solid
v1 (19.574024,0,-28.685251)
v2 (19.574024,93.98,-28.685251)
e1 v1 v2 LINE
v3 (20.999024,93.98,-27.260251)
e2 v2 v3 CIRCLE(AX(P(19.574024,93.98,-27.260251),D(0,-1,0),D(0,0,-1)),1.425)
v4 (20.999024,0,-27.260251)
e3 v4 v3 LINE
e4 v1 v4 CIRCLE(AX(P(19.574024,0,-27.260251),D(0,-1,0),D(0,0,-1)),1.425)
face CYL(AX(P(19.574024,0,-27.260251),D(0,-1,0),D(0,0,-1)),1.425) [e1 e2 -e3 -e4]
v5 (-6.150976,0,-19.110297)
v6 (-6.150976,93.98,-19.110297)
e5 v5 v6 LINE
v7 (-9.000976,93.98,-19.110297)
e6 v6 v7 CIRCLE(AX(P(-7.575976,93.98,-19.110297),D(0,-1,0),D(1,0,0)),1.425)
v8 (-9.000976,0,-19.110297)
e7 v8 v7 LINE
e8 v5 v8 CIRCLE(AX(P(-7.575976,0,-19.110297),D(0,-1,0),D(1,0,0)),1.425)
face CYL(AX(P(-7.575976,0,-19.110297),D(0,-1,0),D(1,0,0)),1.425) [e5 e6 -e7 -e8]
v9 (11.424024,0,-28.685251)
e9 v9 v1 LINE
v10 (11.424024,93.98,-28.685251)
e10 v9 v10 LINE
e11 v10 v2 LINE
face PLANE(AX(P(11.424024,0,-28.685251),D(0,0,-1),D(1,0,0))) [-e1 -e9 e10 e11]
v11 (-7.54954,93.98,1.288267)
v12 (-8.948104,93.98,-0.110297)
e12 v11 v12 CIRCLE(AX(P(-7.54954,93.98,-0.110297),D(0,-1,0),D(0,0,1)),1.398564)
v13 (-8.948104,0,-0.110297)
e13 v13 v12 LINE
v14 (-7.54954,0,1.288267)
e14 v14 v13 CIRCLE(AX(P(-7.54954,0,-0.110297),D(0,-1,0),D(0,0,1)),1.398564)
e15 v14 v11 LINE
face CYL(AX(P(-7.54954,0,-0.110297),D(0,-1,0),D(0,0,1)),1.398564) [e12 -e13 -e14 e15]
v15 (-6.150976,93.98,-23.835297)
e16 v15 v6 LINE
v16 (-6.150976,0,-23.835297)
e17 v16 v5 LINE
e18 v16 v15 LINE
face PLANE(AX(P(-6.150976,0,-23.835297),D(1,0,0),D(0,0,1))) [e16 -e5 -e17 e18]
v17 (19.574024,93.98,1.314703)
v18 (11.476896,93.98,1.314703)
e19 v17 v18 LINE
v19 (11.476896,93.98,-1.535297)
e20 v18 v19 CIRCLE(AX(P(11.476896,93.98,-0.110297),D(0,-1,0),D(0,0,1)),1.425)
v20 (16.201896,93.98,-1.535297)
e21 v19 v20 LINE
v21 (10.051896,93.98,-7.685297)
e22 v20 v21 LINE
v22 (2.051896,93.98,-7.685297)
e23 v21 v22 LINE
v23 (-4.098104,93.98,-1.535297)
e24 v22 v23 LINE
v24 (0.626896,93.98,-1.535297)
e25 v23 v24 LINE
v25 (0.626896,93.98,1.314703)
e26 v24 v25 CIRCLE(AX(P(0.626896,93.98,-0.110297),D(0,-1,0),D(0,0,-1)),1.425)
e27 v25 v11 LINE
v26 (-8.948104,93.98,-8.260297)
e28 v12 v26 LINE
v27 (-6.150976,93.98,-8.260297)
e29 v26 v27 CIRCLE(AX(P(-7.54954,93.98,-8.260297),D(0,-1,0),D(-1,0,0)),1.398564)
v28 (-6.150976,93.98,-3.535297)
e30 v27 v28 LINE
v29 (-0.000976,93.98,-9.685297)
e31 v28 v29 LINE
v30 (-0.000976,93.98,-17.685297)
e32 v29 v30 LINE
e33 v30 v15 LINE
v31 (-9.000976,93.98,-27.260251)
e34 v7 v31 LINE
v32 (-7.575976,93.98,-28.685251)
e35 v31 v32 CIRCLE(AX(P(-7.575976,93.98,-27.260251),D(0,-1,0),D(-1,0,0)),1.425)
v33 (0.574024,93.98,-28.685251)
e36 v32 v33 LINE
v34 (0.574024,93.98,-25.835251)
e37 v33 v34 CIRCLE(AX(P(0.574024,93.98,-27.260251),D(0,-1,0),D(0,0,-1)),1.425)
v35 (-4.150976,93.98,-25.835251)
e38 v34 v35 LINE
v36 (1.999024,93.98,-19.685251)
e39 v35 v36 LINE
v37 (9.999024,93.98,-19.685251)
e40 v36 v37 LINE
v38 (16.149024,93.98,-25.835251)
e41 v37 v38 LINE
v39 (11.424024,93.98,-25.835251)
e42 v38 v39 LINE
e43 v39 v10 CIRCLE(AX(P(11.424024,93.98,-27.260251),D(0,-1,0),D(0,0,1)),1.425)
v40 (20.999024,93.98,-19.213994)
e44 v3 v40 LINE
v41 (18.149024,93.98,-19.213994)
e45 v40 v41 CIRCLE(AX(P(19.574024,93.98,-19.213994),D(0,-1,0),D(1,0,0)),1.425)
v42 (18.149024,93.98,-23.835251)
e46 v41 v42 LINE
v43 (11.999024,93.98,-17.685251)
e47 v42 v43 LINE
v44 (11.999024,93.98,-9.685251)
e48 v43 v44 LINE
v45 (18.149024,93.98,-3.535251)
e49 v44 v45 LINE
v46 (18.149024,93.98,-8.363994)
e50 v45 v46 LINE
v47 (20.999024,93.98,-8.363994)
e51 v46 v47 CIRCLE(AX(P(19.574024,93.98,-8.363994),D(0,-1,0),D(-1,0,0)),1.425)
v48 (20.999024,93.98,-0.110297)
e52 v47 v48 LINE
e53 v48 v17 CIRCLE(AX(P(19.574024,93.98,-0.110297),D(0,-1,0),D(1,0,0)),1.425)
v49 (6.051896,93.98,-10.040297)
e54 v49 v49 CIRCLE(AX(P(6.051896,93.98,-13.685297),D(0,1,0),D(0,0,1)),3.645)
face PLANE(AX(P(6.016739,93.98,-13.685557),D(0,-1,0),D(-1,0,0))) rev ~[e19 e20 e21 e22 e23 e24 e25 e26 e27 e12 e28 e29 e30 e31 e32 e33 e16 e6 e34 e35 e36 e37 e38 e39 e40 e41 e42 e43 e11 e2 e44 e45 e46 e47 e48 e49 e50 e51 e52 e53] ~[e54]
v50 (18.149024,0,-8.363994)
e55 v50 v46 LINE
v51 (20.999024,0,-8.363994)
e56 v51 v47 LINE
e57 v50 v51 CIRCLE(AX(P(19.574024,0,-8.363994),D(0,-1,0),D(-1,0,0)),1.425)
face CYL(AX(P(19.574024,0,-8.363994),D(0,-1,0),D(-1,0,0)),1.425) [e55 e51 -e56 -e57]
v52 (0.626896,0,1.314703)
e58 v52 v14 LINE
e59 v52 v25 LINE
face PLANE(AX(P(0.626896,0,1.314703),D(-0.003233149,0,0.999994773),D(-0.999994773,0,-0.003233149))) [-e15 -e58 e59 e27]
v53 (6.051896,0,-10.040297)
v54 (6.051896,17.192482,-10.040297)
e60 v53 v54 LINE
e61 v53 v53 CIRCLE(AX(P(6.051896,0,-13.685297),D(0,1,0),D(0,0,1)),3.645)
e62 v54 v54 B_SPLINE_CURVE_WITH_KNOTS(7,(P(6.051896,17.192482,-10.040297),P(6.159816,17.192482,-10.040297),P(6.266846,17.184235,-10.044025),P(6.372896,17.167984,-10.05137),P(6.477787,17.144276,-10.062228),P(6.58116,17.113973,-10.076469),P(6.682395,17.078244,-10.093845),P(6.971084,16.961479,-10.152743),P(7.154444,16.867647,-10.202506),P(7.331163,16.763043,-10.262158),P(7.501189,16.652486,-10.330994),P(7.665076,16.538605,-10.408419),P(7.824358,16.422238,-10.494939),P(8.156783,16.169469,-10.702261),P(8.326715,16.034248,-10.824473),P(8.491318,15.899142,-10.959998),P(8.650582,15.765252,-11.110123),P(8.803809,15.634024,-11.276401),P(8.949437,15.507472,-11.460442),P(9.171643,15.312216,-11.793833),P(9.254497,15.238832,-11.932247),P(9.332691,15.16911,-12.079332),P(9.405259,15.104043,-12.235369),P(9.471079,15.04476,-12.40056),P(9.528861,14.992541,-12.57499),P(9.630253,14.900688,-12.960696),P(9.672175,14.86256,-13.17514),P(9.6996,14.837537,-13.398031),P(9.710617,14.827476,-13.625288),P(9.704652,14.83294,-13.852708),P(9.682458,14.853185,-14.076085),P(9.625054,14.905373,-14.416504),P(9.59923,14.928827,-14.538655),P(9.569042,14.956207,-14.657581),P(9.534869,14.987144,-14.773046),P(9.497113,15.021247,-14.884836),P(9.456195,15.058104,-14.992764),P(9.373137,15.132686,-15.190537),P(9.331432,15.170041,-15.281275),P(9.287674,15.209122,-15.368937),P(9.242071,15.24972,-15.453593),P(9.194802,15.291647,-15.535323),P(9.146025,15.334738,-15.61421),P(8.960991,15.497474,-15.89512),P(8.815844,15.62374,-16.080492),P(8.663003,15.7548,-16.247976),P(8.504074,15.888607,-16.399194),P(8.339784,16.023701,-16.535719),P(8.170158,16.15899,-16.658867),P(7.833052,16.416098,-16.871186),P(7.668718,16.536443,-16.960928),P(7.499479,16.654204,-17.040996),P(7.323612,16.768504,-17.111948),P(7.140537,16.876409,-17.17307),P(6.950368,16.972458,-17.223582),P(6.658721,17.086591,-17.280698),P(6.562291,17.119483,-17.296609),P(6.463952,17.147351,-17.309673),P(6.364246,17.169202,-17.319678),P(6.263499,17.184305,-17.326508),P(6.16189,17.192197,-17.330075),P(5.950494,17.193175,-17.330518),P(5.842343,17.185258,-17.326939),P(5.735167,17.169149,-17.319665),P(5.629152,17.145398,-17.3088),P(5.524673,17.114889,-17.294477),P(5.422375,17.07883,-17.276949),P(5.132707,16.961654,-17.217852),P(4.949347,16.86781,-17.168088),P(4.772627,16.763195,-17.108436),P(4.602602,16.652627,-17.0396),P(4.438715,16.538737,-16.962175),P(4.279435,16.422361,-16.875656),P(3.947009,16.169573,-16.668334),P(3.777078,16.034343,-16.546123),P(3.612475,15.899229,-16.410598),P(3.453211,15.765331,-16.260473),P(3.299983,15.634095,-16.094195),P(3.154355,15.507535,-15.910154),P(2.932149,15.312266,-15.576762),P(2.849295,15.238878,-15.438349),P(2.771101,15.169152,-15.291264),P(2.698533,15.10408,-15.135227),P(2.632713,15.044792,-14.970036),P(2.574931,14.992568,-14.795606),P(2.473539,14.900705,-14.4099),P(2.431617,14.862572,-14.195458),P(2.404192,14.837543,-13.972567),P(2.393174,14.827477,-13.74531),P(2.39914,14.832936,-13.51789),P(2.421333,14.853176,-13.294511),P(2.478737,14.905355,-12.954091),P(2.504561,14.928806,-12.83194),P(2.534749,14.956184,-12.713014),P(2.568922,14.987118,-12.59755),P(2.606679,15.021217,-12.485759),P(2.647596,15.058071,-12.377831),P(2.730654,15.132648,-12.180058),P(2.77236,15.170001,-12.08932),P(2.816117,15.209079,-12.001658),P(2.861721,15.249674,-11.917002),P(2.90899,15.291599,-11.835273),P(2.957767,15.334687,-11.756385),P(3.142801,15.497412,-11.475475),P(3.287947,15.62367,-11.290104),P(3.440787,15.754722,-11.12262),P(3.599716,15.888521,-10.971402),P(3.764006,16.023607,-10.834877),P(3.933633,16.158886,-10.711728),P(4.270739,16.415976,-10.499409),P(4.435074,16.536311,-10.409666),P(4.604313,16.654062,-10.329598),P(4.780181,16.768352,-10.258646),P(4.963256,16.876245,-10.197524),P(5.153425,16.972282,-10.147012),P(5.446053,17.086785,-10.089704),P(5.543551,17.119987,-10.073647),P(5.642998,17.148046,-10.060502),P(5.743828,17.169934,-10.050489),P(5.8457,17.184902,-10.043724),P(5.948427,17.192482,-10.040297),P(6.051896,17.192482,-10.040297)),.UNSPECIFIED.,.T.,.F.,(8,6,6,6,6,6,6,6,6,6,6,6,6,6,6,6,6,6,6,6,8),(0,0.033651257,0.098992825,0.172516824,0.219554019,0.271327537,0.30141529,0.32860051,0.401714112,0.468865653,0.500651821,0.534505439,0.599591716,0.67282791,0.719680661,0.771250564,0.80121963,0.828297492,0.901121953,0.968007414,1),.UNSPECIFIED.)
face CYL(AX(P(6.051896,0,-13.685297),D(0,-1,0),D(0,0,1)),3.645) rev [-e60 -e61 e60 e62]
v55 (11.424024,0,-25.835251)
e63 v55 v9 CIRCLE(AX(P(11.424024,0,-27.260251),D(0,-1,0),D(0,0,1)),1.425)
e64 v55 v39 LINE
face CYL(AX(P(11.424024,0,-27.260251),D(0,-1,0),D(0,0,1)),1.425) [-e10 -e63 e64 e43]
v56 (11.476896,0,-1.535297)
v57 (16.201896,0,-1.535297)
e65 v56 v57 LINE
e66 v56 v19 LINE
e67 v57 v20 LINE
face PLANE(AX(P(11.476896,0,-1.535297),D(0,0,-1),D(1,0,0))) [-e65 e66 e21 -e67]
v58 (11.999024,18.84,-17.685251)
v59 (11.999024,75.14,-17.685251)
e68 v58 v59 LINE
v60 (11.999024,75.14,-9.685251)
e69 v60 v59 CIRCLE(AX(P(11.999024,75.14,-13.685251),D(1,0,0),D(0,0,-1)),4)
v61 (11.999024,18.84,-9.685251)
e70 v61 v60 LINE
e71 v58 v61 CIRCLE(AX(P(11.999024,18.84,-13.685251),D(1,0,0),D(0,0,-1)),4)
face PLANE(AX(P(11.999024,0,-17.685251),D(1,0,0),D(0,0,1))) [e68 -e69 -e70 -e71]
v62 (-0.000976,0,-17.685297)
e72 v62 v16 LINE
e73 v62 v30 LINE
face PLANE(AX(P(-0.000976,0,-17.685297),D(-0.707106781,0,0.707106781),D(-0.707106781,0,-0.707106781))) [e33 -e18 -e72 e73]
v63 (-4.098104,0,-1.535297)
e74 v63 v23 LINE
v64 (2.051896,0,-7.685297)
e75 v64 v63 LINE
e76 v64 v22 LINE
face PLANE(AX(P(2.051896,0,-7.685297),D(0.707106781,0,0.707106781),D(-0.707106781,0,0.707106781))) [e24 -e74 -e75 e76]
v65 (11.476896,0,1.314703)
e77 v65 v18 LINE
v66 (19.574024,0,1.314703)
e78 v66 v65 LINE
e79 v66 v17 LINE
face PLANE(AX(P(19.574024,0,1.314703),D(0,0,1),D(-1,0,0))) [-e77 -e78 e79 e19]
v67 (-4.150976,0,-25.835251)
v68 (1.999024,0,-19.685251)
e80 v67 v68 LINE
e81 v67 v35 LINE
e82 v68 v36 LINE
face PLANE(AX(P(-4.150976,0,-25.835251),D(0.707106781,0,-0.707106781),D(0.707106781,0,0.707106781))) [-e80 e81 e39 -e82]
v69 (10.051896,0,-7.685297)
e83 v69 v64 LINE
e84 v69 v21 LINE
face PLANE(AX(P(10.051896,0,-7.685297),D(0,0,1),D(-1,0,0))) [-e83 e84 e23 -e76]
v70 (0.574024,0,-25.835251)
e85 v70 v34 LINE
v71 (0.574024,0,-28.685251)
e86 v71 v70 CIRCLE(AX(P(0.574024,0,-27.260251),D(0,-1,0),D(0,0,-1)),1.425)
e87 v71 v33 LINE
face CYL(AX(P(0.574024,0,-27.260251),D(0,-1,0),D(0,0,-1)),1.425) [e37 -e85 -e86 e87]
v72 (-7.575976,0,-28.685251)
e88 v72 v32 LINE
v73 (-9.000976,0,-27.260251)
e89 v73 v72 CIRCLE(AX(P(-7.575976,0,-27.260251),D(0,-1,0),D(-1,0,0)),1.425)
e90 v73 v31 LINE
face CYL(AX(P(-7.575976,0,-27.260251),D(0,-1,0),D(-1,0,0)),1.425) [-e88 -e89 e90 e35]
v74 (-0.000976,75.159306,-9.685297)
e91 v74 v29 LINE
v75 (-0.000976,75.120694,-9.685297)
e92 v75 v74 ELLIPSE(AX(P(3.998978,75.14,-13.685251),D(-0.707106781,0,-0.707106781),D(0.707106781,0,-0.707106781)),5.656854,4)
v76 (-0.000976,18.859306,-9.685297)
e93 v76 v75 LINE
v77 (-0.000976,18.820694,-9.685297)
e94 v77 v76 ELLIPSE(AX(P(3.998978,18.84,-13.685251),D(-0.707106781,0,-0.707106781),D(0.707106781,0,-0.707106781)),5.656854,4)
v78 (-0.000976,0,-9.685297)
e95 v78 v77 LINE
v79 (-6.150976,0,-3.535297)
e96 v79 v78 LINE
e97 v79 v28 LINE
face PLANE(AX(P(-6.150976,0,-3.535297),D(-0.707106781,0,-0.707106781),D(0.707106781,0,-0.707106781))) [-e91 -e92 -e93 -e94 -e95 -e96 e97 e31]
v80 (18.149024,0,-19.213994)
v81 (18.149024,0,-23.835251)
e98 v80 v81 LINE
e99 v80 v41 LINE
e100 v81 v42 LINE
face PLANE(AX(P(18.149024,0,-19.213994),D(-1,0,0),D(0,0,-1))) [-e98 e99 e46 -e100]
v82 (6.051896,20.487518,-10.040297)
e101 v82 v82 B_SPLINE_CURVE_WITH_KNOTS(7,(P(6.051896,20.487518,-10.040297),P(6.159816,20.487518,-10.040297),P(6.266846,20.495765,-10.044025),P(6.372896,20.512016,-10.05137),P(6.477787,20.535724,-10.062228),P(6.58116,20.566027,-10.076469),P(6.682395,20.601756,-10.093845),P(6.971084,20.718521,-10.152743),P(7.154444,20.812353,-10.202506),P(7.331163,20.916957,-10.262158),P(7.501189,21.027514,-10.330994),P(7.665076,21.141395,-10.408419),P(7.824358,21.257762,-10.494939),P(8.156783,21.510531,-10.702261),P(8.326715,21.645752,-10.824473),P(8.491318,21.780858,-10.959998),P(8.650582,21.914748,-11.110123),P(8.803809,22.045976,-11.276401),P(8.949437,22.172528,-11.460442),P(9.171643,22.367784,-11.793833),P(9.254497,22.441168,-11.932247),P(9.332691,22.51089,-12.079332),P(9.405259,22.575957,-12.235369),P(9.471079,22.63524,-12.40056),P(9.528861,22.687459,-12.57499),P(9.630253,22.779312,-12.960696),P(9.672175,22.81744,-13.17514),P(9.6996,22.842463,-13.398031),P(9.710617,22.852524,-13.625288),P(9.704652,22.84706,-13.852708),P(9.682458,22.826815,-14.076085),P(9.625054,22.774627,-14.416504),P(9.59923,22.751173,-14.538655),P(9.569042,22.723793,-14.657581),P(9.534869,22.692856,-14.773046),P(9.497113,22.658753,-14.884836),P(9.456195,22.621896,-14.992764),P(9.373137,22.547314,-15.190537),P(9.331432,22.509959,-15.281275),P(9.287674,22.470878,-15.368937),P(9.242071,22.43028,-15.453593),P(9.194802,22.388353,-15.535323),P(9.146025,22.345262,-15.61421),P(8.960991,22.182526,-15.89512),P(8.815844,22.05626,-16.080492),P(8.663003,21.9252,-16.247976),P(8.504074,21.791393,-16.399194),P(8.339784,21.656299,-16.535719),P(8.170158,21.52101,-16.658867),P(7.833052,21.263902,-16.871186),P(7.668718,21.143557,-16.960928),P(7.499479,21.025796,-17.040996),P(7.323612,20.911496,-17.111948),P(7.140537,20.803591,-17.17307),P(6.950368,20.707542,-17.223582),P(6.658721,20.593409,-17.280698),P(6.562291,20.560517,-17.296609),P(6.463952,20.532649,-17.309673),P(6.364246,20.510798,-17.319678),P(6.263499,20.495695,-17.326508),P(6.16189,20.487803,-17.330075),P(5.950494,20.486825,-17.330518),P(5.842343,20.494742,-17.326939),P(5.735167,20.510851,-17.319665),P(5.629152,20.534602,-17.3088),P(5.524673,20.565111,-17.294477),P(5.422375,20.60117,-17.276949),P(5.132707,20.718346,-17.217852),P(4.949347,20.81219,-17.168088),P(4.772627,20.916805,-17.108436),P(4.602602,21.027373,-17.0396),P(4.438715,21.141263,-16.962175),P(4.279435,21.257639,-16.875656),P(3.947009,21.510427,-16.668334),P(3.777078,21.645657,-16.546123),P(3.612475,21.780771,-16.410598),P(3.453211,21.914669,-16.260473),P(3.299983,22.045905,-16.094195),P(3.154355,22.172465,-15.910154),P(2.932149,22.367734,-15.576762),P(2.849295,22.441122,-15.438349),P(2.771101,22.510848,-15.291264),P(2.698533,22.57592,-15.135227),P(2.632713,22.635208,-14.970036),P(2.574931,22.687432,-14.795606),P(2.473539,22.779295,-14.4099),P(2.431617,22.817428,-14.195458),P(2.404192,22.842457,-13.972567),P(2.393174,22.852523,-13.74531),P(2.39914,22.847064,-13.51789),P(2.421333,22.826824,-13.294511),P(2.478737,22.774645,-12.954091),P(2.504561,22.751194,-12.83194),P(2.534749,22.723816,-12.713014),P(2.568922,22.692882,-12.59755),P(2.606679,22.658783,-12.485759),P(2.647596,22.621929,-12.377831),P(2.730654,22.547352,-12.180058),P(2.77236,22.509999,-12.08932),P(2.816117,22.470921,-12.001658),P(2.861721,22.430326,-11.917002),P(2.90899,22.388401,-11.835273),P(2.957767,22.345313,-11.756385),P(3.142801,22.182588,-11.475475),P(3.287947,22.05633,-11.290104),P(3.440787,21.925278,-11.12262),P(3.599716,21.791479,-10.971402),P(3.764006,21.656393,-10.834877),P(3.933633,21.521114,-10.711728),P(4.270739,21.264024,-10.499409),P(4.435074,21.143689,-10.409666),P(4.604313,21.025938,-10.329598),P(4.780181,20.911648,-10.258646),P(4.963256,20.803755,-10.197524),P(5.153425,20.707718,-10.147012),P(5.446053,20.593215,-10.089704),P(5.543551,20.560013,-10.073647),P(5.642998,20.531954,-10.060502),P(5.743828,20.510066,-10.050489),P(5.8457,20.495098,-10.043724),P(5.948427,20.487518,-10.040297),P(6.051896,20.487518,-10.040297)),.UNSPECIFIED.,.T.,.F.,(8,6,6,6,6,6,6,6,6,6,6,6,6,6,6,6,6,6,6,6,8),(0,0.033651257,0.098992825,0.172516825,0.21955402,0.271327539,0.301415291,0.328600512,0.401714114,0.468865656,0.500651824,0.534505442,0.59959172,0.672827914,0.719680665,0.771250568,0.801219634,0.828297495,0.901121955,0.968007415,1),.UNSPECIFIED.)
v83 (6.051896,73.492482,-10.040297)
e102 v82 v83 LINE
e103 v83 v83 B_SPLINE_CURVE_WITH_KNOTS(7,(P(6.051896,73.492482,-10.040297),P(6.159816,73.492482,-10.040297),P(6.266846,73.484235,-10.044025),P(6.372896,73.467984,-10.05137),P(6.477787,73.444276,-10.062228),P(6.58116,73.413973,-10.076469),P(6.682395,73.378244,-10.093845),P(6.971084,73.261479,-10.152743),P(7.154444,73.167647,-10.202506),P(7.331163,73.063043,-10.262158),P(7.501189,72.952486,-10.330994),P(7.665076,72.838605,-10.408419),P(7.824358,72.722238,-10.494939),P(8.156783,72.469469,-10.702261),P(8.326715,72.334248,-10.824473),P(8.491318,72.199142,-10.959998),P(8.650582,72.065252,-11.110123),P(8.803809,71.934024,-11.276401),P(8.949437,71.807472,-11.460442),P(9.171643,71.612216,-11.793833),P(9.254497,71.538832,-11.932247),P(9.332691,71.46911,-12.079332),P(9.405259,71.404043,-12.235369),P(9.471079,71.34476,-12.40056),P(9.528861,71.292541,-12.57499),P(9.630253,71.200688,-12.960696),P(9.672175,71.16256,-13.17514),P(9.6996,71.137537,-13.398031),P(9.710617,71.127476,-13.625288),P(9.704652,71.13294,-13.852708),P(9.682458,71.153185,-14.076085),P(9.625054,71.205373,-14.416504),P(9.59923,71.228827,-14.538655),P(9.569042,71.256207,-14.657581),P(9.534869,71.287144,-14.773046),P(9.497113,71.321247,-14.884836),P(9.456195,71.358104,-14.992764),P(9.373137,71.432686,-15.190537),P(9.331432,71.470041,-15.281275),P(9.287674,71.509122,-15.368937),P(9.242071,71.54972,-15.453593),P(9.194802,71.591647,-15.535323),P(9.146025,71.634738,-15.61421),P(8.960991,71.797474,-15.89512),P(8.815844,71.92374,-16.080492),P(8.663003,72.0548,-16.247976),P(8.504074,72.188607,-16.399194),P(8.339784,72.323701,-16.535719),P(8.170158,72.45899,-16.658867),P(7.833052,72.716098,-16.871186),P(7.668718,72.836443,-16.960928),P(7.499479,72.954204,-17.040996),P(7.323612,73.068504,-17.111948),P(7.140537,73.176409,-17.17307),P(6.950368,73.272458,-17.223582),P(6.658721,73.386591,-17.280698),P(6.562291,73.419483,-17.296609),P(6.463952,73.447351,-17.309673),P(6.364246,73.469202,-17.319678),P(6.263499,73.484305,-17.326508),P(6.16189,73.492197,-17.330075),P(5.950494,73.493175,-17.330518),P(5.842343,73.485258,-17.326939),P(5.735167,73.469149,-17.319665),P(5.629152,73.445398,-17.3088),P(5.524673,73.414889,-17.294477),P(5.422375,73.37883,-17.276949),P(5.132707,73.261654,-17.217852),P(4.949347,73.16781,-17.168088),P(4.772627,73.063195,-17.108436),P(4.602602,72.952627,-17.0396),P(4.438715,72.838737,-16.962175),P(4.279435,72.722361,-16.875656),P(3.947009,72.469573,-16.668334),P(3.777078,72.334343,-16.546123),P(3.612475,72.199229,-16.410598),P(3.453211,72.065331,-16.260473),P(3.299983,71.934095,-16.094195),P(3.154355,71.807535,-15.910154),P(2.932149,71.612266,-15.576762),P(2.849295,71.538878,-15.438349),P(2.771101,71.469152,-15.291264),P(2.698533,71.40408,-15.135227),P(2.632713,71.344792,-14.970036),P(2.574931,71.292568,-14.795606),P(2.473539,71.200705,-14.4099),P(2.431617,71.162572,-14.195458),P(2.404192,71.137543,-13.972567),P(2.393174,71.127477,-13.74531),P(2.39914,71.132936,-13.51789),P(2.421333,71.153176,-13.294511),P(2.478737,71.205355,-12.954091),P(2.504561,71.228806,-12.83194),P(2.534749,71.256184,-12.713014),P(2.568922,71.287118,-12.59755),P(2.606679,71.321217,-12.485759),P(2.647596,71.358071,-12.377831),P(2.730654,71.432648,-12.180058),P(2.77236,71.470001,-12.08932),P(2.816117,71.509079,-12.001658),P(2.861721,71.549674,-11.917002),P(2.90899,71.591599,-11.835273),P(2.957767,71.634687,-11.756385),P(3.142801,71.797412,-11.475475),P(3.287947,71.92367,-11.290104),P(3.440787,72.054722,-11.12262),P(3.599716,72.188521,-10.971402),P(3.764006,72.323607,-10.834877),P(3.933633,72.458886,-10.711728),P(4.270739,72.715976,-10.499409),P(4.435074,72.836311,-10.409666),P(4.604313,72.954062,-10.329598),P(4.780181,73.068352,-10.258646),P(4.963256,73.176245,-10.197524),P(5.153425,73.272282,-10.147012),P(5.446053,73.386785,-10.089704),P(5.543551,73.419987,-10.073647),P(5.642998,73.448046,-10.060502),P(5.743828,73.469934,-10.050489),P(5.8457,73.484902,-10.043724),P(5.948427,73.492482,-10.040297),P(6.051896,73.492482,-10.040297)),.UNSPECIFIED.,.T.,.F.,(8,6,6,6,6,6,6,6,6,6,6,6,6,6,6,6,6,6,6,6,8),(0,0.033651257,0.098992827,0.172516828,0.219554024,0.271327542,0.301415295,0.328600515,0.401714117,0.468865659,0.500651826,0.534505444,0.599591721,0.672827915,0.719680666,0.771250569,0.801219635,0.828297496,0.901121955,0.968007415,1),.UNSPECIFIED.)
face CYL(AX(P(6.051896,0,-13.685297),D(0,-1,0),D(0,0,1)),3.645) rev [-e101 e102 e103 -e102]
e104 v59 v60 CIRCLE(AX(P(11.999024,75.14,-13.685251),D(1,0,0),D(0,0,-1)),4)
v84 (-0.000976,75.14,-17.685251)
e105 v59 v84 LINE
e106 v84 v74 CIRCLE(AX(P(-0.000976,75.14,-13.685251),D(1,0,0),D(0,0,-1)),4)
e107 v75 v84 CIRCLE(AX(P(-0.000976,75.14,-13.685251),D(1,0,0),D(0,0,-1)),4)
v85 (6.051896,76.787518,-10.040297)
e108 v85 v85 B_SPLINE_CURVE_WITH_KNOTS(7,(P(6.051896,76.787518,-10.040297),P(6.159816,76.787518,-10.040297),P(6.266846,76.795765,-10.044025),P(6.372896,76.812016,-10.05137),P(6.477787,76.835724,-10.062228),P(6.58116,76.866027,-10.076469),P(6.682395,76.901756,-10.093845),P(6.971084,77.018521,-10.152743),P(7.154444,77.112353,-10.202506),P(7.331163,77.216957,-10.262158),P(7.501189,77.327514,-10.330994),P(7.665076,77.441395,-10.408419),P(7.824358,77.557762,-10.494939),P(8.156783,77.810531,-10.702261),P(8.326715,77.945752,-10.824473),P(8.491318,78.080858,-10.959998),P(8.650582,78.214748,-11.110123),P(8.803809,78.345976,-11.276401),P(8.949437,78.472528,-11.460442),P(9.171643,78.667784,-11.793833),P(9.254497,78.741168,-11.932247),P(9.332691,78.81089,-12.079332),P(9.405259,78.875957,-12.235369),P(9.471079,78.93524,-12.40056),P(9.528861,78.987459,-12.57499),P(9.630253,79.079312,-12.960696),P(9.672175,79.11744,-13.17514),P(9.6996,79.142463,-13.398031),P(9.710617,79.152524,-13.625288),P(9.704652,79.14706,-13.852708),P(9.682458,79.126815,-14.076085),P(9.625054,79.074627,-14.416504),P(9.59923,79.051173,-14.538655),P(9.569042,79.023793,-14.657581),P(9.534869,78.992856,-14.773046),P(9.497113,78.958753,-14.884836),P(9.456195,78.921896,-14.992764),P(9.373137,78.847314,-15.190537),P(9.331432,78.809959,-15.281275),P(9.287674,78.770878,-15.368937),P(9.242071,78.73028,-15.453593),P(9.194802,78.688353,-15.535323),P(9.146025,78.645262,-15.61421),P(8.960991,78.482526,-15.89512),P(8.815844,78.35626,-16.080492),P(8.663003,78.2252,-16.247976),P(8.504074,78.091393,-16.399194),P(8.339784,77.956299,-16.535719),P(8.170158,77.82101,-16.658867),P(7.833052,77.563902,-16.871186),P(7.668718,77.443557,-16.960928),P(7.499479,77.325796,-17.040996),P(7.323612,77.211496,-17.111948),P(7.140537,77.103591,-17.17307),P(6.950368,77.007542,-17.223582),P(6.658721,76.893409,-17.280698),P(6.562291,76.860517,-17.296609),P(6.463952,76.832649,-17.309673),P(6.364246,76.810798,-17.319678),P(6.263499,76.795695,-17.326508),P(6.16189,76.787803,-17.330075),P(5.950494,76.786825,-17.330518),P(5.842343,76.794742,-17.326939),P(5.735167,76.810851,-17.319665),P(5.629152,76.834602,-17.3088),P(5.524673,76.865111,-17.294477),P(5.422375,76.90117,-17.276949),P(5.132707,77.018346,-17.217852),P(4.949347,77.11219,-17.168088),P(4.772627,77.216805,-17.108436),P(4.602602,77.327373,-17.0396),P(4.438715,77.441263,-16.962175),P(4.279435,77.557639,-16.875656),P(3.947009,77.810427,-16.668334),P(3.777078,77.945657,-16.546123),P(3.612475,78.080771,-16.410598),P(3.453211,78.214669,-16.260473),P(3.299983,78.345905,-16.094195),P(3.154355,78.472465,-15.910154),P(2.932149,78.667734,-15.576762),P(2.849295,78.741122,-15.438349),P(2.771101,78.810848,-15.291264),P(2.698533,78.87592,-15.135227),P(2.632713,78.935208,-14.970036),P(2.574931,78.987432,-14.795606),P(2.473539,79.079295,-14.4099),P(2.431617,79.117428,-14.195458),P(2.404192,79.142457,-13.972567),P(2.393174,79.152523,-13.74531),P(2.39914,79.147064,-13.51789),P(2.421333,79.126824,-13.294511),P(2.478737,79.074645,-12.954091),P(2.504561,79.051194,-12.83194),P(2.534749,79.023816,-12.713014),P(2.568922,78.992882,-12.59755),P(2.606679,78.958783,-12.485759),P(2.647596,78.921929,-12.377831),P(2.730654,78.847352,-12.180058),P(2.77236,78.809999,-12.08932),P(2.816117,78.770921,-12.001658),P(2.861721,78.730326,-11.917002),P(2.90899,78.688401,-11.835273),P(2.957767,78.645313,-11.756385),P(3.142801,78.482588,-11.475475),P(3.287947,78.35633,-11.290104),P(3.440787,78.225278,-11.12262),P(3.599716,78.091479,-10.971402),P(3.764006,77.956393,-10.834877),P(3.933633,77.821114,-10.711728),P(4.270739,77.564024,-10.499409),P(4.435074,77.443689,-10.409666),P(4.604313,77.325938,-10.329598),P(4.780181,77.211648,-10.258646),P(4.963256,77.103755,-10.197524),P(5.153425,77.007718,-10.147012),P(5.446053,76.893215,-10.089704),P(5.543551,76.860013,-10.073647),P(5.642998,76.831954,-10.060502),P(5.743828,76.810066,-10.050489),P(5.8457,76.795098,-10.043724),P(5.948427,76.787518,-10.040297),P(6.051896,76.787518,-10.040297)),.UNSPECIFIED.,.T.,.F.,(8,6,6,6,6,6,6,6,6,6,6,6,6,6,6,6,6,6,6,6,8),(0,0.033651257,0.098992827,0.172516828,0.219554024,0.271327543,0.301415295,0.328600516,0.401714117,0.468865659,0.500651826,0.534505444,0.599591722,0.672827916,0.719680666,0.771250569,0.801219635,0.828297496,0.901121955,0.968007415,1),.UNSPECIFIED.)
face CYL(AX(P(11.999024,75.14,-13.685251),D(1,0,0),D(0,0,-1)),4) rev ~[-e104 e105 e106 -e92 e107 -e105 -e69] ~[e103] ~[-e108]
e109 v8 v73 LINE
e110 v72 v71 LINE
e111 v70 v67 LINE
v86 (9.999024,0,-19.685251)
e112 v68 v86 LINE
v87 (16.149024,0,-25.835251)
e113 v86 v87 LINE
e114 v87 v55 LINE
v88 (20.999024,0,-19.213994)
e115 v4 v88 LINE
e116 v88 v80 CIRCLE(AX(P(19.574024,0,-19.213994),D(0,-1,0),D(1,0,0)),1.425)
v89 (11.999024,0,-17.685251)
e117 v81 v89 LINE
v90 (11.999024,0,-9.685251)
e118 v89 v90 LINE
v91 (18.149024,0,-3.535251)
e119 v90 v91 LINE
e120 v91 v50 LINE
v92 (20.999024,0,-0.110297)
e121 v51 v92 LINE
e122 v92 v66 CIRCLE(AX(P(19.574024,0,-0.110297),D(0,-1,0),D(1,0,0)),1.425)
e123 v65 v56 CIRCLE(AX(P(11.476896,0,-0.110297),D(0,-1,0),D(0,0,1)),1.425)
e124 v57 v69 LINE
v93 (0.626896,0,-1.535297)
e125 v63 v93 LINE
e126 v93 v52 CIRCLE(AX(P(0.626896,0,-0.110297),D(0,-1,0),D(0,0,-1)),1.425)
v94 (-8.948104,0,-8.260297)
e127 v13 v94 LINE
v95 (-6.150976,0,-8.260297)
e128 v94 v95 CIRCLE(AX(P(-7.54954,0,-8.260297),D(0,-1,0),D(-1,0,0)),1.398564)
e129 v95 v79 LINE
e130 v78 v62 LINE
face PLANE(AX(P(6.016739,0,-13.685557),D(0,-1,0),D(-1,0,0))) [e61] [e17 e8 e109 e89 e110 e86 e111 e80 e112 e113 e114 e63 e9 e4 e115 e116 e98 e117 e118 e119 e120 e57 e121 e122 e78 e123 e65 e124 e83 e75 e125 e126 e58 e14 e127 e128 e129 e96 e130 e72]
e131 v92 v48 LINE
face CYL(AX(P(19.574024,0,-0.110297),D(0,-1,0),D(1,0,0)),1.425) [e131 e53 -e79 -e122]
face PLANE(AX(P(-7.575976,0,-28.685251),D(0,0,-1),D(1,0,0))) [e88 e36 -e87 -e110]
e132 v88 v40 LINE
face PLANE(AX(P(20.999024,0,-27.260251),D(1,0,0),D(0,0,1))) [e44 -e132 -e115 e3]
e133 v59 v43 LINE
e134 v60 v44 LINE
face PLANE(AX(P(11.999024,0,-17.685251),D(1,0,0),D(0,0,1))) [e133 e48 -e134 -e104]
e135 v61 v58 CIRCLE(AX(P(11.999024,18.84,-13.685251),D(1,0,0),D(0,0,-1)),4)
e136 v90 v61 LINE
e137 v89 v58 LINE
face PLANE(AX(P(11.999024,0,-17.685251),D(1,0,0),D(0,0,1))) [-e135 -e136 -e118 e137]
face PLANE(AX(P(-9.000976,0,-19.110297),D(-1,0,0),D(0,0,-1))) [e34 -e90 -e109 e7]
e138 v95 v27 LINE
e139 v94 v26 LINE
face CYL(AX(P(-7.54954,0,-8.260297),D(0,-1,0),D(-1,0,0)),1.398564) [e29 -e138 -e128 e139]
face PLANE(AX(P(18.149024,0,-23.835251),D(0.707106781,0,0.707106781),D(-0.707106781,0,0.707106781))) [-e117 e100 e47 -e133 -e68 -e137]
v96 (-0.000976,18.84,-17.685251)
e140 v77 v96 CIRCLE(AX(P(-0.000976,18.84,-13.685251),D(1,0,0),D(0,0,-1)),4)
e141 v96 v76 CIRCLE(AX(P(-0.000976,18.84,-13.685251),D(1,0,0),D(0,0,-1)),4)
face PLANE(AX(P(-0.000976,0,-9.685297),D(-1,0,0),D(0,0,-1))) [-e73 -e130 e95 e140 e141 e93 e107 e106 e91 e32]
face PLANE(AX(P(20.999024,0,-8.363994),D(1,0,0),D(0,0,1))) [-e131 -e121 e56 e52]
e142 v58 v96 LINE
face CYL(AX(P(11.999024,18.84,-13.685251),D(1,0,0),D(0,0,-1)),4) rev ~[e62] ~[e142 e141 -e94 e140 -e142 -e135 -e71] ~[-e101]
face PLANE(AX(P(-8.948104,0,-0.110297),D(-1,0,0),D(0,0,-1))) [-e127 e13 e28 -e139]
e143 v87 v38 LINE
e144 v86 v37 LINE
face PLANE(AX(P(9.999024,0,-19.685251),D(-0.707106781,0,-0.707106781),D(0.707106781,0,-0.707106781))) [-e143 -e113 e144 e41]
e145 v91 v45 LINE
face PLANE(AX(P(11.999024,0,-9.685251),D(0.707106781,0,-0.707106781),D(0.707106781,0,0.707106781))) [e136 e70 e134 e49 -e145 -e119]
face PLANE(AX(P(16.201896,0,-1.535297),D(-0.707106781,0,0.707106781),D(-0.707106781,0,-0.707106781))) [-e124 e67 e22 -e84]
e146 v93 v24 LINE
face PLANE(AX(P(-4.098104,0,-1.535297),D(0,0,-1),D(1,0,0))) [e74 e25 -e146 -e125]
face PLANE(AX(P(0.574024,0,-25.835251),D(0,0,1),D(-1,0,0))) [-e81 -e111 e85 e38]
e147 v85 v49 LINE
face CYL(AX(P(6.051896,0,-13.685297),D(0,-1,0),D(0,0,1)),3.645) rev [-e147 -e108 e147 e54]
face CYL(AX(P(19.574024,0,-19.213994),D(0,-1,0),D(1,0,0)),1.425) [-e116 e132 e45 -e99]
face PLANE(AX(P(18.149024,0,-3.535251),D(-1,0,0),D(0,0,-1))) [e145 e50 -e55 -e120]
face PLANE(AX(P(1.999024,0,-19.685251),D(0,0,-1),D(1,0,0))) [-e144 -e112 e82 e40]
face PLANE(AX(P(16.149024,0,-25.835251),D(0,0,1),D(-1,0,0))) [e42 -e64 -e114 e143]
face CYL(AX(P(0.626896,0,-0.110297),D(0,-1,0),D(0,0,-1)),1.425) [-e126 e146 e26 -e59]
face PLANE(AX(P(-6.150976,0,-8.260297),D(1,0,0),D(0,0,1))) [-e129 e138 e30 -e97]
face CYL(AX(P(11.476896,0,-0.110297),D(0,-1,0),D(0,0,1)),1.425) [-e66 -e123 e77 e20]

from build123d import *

# Parameters (mm, degrees)
SKETCH1_R           = 3.645
BOSS_EXTRUDE1_DEPTH = 93.98
SKETCH2_R           = 4
CUT_EXTRUDE1_DEPTH  = 93.98


with BuildPart() as part:
    # Sketch1 → Boss-Extrude1 (new body)
    with BuildSketch(Plane(origin=(0, 0, 0), x_dir=(1, 0, 0), z_dir=(0, 1, 0))):
        with BuildLine():
            Line((11.476895811, 1.535297401), (16.201895811, 1.535297401))
            Line((16.201895811, 1.535297401), (10.051895811, 7.685297401))
            Line((10.051895811, 7.685297401), (2.051895811, 7.685297401))
            Line((2.051895811, 7.685297401), (-4.098104189, 1.535297401))
            Line((-4.098104189, 1.535297401), (0.626895811, 1.535297401))
            ThreePointArc((0.626895811, 1.535297401), (2.051895811, 0.110297401), (0.626895811, -1.314702599))
            Line((0.626895811, -1.314702599), (-7.549539962, -1.288266826))
            ThreePointArc((-7.549539962, -1.288266826), (-8.538474211, -0.878636848), (-8.948104189, 0.110297401))
            Line((-8.948104189, 0.110297401), (-8.948104189, 8.260297401))
            ThreePointArc((-8.948104189, 8.260297401), (-7.549539962, 9.658861629), (-6.150975734, 8.260297401))
            Line((-6.150975734, 8.260297401), (-6.150975734, 3.535297401))
            Line((-6.150975734, 3.535297401), (-0.000975734, 9.685297401))
            Line((-0.000975734, 9.685297401), (-0.000975734, 17.685297401))
            Line((-0.000975734, 17.685297401), (-6.150975734, 23.835297401))
            Line((-6.150975734, 23.835297401), (-6.150975734, 19.110297401))
            ThreePointArc((-6.150975734, 19.110297401), (-7.575975734, 17.685297401), (-9.000975734, 19.110297401))
            Line((-9.000975734, 19.110297401), (-9.000975734, 27.260250811))
            ThreePointArc((-9.000975734, 27.260250811), (-8.583602897, 28.267877974), (-7.575975734, 28.685250811))
            Line((-7.575975734, 28.685250811), (0.574024266, 28.685250811))
            ThreePointArc((0.574024266, 28.685250811), (1.999024266, 27.260250811), (0.574024266, 25.835250811))
            Line((0.574024266, 25.835250811), (-4.150975734, 25.835250811))
            Line((-4.150975734, 25.835250811), (1.999024266, 19.685250811))
            Line((1.999024266, 19.685250811), (9.999024266, 19.685250811))
            Line((9.999024266, 19.685250811), (16.149024266, 25.835250811))
            Line((16.149024266, 25.835250811), (11.424024266, 25.835250811))
            ThreePointArc((11.424024266, 25.835250811), (9.999024266, 27.260250811), (11.424024266, 28.685250811))
            Line((11.424024266, 28.685250811), (19.574024266, 28.685250811))
            ThreePointArc((19.574024266, 28.685250811), (20.581651429, 28.267877974), (20.999024266, 27.260250811))
            Line((20.999024266, 27.260250811), (20.999024266, 19.213994497))
            ThreePointArc((20.999024266, 19.213994497), (19.574024266, 17.788994497), (18.149024266, 19.213994497))
            Line((18.149024266, 19.213994497), (18.149024266, 23.835250811))
            Line((18.149024266, 23.835250811), (11.999024266, 17.685250811))
            Line((11.999024266, 17.685250811), (11.999024266, 9.685250811))
            Line((11.999024266, 9.685250811), (18.149024266, 3.535250811))
            Line((18.149024266, 3.535250811), (18.149024266, 8.363994497))
            ThreePointArc((18.149024266, 8.363994497), (19.574024266, 9.788994497), (20.999024266, 8.363994497))
            Line((20.999024266, 8.363994497), (20.999024266, 0.110297401))
            ThreePointArc((20.999024266, 0.110297401), (20.581651429, -0.897329762), (19.574024266, -1.314702599))
            Line((19.574024266, -1.314702599), (11.476895811, -1.314702599))
            ThreePointArc((11.476895811, -1.314702599), (10.051895811, 0.110297401), (11.476895811, 1.535297401))
        make_face()
        with Locations(Location((6.051895811, 13.685297401, 0), (0, 0, 270))):
            Circle(SKETCH1_R, mode=Mode.SUBTRACT)
    extrude(amount=BOSS_EXTRUDE1_DEPTH)

    # Sketch2 → Cut-Extrude1 (cut)
    with BuildSketch(Plane(origin=(11.999024266, 0, 0), x_dir=(0, 0, -1), z_dir=(1, 0, 0))):
        with Locations((13.685250811, 75.14)):
            Circle(SKETCH2_R)
        with Locations((13.685250811, 18.84)):
            Circle(SKETCH2_R)
    extrude(amount=-CUT_EXTRUDE1_DEPTH, mode=Mode.SUBTRACT)


solid = part.part
